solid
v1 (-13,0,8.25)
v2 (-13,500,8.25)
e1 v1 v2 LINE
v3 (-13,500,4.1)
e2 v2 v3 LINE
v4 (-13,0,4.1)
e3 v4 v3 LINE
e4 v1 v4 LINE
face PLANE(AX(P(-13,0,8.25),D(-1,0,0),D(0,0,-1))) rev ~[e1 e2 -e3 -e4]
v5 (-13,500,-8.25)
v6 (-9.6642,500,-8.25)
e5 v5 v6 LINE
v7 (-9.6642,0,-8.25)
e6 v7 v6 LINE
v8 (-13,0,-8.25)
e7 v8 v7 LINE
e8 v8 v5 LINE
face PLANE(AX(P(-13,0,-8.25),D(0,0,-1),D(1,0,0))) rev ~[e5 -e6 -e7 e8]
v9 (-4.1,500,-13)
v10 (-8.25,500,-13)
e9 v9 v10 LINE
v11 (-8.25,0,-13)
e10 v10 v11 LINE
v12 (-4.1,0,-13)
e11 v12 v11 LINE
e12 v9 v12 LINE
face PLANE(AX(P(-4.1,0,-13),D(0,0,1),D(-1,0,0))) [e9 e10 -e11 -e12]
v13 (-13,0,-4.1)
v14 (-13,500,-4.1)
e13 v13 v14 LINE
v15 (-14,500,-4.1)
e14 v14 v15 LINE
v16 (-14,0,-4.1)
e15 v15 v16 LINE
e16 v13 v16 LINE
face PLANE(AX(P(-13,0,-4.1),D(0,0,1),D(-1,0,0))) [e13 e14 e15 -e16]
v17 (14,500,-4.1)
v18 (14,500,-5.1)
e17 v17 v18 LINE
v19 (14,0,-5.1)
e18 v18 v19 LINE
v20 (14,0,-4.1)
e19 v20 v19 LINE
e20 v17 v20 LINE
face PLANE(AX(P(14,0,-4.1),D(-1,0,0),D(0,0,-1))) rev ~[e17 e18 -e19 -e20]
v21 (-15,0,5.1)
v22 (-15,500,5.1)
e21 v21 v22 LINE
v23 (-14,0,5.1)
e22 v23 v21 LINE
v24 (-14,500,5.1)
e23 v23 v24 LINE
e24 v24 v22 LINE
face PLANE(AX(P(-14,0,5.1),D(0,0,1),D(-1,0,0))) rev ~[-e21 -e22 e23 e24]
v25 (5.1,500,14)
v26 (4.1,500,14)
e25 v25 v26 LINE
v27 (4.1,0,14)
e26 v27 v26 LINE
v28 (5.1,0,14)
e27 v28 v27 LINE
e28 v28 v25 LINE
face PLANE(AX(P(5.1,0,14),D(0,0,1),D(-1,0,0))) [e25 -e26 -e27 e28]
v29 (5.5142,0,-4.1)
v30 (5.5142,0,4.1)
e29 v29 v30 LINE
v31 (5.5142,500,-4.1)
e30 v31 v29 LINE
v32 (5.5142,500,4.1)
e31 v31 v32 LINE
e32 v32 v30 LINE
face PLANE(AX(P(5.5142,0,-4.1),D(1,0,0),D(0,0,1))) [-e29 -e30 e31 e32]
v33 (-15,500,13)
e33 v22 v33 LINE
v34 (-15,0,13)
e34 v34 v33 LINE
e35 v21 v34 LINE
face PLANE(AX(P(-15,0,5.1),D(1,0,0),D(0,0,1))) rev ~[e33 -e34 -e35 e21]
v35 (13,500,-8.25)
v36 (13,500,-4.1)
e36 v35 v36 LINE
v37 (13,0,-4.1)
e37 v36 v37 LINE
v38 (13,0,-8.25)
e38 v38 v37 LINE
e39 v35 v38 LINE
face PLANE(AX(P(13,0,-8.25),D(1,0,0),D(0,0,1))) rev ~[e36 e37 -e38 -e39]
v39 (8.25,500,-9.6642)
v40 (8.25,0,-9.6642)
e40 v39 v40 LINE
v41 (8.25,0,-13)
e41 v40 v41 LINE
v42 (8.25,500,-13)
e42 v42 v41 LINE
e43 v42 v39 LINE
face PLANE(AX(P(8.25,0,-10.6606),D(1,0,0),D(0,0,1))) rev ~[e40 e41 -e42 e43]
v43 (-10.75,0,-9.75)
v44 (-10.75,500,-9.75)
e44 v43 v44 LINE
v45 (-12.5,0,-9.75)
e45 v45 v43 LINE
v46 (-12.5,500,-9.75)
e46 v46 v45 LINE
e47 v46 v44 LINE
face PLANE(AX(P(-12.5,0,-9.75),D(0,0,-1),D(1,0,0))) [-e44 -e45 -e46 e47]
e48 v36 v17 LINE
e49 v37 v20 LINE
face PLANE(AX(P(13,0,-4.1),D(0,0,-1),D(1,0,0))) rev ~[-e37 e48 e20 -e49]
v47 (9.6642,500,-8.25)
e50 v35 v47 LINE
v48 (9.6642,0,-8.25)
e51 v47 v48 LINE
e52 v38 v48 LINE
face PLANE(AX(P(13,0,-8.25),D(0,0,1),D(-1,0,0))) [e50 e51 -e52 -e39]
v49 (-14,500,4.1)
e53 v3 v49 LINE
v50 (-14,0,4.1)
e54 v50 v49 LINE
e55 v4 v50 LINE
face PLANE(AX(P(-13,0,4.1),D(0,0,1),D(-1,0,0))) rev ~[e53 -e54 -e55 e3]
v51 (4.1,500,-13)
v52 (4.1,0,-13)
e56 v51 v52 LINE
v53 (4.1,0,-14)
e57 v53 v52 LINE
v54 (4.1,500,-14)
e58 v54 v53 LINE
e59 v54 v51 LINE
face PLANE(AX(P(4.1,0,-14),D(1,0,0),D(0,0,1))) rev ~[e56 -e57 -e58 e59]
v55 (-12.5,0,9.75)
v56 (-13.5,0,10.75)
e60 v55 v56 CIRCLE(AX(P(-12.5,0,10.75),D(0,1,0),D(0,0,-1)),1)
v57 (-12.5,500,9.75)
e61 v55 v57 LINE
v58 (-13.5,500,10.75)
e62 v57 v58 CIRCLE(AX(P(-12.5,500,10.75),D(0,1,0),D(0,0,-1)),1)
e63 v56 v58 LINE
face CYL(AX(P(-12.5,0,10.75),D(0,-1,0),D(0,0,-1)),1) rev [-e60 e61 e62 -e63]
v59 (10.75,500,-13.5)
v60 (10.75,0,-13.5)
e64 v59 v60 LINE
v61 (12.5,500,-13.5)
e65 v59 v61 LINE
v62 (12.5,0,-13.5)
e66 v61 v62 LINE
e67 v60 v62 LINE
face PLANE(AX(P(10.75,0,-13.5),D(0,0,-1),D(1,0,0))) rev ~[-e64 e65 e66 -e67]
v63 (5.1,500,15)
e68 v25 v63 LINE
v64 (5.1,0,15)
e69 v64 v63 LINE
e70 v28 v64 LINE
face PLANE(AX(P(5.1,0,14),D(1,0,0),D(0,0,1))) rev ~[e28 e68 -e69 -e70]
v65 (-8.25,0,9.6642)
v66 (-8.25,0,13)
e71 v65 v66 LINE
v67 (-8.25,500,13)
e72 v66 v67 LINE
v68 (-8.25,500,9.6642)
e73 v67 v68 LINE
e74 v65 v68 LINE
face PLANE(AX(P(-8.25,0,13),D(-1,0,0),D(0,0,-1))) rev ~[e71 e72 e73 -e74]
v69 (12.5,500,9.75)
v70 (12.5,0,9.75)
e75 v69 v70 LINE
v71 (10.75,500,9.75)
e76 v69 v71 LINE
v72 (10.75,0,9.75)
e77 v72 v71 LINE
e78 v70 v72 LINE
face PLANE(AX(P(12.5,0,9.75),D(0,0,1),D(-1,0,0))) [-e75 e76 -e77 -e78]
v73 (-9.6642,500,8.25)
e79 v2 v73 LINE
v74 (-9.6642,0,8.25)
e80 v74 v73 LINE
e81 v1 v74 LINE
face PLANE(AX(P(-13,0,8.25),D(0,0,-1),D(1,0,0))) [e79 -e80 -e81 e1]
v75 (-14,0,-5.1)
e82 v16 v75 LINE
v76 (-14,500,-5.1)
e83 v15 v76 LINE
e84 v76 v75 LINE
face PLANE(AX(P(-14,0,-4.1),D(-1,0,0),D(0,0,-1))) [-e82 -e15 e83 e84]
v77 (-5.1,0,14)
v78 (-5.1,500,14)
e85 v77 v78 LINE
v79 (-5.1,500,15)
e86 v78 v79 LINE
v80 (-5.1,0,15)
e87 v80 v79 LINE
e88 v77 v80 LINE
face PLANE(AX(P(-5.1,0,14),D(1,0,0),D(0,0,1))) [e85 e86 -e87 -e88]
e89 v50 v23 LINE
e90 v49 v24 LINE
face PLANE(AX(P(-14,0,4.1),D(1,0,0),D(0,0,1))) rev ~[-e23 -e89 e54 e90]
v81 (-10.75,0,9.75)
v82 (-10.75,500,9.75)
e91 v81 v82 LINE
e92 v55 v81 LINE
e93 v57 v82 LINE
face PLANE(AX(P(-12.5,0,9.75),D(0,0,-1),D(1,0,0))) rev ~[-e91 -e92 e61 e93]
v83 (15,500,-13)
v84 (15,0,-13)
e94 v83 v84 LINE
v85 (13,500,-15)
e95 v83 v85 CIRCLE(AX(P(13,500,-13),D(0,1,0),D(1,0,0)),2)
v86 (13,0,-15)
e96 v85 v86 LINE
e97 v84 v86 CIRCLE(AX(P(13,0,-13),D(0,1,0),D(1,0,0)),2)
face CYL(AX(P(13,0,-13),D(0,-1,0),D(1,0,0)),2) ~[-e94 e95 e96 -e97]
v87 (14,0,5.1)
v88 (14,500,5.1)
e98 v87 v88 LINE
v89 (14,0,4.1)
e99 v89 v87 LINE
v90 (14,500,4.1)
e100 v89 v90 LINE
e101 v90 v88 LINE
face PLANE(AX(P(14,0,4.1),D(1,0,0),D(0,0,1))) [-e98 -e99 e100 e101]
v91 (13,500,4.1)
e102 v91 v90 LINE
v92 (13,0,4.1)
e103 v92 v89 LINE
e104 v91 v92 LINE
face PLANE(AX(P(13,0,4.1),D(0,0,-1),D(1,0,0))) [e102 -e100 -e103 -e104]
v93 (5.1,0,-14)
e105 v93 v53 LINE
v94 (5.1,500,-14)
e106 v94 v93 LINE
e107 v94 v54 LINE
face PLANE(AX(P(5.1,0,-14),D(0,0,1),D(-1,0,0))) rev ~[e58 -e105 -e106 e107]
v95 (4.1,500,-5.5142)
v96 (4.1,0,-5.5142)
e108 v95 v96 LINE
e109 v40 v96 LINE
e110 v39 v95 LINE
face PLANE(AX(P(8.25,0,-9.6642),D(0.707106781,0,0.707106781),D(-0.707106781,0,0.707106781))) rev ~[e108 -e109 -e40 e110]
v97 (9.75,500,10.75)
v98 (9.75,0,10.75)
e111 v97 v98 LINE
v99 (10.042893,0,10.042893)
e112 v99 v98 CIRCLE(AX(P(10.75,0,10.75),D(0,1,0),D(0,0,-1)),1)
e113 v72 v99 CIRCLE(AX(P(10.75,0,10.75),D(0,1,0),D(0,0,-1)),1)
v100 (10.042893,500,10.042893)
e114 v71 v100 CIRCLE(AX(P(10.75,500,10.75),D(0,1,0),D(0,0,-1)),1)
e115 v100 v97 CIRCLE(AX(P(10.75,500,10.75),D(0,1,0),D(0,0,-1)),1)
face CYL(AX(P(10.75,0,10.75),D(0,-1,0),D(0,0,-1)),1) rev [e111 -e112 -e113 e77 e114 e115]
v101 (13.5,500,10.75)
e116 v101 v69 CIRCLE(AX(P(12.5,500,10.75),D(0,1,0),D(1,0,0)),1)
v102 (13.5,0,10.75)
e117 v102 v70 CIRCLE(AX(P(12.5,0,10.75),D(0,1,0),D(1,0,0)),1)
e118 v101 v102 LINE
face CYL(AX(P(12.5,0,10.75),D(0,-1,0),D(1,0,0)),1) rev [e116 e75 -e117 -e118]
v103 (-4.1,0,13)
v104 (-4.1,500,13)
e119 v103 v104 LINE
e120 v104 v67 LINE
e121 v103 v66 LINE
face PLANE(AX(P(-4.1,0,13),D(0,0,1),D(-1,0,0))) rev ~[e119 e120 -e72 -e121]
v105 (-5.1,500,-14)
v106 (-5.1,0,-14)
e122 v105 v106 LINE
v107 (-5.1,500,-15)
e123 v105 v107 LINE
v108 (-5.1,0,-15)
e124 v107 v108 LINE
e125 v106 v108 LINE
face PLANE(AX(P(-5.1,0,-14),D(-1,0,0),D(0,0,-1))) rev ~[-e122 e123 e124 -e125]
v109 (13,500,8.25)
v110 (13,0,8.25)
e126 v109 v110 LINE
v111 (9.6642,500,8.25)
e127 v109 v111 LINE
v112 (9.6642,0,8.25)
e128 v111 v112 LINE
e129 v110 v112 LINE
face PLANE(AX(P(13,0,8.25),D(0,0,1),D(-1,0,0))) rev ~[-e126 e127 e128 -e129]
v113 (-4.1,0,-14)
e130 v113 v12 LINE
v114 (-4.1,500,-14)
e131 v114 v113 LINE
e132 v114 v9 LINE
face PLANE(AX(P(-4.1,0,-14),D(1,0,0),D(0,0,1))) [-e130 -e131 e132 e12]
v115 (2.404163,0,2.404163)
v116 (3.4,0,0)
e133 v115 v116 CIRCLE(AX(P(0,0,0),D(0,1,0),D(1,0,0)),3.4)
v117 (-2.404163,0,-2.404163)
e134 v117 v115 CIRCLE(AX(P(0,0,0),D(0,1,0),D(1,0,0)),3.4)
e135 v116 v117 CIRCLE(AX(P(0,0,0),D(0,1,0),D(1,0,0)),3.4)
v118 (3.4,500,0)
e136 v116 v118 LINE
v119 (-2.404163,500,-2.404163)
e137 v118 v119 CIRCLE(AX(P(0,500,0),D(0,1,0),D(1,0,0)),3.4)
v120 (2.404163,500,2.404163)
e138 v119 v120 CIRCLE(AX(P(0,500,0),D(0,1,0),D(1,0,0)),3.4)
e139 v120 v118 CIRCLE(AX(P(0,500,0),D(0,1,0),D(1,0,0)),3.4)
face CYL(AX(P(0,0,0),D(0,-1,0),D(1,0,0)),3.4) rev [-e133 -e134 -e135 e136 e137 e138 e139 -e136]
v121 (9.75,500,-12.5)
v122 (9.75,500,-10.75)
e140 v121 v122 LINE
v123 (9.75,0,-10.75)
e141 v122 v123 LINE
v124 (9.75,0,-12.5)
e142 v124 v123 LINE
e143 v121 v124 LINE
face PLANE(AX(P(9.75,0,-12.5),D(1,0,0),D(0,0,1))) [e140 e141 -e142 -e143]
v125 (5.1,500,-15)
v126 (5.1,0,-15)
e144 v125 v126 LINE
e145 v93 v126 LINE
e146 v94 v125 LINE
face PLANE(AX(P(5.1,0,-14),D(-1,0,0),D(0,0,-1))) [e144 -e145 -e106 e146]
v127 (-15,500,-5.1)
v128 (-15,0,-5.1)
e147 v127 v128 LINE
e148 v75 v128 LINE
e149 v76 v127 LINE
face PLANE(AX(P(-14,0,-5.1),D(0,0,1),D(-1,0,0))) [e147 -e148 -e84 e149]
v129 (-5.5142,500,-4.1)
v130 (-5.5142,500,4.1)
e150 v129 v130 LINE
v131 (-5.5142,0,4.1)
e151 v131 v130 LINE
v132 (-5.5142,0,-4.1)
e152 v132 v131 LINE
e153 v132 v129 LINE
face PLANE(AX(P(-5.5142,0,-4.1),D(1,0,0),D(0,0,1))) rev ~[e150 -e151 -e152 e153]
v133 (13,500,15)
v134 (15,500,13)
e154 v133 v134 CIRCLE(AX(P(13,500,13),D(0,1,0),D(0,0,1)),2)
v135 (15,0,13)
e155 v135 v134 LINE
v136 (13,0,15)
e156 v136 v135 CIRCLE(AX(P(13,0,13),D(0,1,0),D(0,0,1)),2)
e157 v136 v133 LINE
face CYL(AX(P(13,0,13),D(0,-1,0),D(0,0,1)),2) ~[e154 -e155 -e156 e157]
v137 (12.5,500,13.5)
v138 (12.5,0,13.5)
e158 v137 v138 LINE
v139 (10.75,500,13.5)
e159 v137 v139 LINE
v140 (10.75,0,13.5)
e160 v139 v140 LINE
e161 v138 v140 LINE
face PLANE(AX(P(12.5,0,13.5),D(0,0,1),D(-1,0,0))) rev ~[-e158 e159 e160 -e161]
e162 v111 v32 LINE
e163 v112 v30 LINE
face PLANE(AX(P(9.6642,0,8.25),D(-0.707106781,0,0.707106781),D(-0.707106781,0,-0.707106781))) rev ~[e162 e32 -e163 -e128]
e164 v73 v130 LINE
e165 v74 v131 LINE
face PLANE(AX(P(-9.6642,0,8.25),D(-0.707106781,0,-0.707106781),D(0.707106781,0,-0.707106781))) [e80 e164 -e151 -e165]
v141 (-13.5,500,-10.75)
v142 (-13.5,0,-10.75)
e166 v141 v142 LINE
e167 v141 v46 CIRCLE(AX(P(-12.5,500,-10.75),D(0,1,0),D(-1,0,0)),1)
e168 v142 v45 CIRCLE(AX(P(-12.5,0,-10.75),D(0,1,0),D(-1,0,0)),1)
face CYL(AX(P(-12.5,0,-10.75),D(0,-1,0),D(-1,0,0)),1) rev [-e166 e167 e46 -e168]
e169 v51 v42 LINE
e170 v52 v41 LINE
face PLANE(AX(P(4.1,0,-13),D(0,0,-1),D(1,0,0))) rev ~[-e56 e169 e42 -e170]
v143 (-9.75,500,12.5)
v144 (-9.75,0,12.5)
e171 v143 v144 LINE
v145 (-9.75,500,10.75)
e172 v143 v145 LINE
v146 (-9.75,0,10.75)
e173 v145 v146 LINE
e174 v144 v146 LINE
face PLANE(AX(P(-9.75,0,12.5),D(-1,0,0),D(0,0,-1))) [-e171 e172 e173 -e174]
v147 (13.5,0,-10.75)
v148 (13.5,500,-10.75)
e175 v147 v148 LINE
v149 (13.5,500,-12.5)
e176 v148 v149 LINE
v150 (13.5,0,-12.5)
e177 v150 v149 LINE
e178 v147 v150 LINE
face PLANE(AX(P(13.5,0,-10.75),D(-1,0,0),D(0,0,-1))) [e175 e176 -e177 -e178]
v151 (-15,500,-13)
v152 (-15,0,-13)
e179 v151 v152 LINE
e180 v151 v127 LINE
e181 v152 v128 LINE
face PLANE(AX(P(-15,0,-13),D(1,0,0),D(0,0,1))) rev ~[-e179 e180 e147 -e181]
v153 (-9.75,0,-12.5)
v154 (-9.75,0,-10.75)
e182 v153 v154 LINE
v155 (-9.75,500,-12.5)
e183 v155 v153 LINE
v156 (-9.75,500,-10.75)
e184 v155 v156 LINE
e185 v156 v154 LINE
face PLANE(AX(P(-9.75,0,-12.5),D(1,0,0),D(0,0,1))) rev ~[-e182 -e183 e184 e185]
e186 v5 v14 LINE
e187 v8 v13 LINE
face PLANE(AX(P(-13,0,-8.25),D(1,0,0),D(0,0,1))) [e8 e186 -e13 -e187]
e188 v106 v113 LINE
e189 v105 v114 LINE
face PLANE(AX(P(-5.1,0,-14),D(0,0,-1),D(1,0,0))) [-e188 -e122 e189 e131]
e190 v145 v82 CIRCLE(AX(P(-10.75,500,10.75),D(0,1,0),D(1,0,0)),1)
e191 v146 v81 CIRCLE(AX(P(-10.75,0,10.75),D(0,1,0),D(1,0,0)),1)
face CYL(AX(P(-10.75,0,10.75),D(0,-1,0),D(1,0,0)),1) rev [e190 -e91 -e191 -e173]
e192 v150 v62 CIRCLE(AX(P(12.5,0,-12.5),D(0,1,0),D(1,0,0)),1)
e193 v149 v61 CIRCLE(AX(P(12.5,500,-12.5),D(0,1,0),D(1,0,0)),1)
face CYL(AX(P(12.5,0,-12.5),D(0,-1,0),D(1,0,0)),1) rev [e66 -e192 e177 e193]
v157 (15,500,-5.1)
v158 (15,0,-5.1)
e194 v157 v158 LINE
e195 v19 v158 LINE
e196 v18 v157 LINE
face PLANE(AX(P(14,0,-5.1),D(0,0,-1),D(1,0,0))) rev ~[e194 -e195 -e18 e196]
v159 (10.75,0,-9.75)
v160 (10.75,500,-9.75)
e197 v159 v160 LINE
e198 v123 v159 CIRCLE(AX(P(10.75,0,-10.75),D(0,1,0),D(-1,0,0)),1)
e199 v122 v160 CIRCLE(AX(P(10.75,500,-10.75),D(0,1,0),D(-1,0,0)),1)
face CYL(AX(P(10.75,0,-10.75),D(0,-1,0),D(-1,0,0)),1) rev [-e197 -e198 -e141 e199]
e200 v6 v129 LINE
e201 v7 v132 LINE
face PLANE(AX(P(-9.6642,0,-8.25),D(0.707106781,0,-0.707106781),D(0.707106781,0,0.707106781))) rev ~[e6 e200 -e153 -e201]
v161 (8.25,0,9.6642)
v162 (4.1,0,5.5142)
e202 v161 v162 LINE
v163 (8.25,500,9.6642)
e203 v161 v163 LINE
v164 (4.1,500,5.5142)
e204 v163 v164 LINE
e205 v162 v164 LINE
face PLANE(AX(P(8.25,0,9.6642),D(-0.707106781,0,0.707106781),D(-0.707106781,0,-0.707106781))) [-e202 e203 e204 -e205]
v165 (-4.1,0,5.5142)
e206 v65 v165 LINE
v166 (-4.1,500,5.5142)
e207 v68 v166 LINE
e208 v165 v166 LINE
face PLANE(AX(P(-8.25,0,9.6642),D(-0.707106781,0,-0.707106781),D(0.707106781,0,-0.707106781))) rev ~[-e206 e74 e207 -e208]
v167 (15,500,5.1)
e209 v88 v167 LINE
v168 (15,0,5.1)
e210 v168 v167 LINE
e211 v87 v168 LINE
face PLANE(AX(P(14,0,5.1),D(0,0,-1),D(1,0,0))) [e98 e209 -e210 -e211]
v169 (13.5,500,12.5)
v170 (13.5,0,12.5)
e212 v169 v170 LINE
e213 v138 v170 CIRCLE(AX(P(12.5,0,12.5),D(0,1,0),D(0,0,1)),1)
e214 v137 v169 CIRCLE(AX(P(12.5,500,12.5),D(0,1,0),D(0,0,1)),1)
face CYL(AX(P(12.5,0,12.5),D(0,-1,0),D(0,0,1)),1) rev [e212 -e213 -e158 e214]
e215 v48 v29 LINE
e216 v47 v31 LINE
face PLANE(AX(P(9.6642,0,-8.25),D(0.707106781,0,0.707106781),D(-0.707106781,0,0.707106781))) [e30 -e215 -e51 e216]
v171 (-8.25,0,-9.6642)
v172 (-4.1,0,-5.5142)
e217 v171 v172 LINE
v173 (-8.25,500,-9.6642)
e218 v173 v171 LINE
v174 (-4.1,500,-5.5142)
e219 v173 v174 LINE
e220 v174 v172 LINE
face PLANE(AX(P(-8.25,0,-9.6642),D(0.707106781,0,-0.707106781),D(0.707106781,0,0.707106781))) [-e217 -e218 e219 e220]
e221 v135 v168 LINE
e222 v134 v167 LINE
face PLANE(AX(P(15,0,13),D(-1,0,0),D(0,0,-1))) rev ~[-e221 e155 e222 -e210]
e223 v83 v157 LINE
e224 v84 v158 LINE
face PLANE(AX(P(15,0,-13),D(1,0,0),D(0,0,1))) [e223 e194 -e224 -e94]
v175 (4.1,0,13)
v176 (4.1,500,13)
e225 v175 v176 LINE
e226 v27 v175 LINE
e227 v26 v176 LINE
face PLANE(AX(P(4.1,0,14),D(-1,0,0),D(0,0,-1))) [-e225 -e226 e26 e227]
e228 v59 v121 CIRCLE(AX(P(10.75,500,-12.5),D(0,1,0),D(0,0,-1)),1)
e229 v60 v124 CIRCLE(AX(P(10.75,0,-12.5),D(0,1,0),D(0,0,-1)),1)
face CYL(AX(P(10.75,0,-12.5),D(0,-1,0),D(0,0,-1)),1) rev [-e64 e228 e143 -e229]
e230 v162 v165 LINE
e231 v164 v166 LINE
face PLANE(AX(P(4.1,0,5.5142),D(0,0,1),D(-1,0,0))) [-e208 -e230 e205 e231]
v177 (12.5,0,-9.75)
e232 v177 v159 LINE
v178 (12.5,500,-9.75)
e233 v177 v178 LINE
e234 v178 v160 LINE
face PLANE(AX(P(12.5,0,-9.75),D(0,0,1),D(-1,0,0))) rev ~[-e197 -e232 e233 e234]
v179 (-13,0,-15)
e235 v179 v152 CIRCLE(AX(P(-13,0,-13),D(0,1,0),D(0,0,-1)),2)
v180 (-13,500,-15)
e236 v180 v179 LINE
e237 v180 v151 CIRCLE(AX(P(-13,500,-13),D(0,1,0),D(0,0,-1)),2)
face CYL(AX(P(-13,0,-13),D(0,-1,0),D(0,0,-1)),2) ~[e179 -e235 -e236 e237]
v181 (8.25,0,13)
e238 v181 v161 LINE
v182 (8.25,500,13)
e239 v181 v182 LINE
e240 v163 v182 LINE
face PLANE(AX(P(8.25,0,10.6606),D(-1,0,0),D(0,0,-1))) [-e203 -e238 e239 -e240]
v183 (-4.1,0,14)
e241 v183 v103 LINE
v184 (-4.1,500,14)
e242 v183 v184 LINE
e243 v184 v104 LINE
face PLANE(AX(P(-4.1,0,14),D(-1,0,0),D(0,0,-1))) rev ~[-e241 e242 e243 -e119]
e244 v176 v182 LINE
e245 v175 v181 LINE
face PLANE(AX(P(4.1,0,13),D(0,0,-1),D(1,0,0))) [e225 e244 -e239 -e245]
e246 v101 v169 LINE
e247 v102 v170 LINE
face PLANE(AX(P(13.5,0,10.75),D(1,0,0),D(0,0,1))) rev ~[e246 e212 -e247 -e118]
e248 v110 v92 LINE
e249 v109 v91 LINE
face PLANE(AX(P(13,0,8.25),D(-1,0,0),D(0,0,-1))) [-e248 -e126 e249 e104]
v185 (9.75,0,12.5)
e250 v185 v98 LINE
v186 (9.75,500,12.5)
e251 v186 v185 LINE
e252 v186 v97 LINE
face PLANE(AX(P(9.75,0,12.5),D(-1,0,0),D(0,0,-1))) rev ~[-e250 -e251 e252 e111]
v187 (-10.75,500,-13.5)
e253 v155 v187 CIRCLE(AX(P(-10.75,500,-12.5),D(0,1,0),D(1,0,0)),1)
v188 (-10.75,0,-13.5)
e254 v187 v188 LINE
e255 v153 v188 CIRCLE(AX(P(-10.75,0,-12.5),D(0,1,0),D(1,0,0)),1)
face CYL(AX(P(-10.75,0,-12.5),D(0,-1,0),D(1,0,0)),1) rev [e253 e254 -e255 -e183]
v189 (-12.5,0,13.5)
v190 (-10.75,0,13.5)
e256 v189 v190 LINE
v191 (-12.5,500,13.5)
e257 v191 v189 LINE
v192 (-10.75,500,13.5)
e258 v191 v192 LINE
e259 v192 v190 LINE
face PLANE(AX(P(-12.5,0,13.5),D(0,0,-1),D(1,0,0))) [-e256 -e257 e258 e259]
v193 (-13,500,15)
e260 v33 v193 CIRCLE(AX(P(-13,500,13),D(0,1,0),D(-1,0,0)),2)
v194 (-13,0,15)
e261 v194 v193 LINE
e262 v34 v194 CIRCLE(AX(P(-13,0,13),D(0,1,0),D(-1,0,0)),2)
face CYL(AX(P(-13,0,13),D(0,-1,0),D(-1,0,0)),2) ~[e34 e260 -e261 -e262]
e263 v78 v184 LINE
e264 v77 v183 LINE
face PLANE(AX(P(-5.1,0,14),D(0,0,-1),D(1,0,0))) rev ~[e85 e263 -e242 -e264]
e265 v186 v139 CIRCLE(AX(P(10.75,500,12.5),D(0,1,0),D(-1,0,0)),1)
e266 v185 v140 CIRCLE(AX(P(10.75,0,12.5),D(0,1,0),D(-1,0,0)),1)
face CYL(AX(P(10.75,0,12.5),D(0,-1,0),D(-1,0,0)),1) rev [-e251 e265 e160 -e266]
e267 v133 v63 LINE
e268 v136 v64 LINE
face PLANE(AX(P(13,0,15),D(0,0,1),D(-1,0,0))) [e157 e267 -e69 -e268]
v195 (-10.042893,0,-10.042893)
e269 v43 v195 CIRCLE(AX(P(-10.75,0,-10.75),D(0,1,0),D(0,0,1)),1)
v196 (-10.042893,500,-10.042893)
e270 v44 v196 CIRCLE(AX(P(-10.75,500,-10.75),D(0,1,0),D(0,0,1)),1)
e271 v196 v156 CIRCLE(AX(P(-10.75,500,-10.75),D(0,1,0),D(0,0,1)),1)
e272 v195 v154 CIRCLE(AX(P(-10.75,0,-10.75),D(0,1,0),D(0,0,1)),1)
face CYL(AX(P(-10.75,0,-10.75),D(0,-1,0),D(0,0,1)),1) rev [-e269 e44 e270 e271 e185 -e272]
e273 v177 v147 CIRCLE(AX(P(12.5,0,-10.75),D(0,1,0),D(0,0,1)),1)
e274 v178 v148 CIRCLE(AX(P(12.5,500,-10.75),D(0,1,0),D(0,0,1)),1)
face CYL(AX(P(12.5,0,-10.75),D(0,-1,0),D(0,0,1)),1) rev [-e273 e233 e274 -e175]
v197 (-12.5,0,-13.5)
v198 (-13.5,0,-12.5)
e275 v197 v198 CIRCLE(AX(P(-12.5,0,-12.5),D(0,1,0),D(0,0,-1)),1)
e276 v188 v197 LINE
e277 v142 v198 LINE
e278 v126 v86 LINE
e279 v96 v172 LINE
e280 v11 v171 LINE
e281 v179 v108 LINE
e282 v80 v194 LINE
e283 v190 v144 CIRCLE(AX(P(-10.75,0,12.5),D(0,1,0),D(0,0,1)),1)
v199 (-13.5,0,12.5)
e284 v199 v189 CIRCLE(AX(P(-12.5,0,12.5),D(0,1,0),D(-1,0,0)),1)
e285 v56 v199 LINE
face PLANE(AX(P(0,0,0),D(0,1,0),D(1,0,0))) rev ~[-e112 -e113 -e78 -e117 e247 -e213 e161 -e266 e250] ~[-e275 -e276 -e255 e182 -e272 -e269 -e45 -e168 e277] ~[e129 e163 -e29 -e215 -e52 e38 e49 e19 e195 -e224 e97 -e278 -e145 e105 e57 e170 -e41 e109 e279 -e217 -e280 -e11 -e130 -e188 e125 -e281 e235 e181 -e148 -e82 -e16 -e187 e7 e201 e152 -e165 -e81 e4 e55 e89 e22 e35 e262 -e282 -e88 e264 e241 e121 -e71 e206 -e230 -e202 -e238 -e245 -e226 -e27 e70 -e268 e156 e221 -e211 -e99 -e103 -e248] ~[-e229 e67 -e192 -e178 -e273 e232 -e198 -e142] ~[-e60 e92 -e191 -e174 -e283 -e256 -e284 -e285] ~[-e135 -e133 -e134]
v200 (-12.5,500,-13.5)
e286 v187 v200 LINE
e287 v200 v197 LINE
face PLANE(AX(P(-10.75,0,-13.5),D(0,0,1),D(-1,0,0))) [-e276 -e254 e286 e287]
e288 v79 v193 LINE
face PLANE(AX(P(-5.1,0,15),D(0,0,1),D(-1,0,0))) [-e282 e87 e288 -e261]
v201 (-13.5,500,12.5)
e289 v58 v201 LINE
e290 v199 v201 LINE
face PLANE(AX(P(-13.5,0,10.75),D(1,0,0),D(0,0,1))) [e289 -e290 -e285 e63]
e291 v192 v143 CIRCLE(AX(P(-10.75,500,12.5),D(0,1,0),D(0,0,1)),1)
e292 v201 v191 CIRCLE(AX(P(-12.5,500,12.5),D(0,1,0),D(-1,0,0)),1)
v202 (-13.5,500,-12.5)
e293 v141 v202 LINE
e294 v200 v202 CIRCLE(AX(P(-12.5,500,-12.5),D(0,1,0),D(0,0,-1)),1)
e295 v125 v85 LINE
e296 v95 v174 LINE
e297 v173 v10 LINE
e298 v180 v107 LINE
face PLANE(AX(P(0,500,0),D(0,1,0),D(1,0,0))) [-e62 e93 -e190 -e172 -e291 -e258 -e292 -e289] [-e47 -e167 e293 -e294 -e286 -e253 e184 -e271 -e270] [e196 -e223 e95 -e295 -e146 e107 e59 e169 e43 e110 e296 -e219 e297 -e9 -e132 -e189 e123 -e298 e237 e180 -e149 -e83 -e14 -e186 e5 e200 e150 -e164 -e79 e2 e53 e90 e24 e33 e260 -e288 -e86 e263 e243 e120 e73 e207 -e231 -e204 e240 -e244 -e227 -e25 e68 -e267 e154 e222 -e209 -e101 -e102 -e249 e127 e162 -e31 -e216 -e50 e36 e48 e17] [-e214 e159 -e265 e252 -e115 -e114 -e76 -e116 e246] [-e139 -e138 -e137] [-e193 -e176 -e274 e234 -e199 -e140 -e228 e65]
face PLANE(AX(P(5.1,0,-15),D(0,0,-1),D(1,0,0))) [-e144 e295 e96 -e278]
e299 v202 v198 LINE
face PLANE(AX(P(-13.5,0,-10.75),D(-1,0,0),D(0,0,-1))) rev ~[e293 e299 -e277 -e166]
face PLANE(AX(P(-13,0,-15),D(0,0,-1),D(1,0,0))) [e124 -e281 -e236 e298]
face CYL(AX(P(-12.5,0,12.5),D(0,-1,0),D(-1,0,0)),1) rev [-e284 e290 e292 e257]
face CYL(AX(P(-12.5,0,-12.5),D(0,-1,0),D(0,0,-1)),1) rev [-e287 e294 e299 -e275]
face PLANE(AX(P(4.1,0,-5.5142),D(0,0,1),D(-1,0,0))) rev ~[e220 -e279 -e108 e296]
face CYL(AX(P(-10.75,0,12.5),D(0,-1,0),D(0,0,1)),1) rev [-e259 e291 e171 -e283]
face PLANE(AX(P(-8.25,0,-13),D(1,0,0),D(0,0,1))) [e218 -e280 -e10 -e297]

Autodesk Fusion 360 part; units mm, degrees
sketch "Sketch1" plane through (0, 0, 0) normal (0, 1, 0) x (1, 0, 0)
  line L0 (-13, 4.1) -> (-14, 4.1)
  line L1 (-12.5, 9.75) -> (-10.75, 9.75)
  line L2 (-13, 15) -> (-5.1, 15)
  line L3 (-10.75, 9.75) -> (-12.5, 9.75)
  line L4 (-8.25, 13) -> (-8.25, 9.6642)
  line L5 (-5.1, 15) -> (-13, 15)
  line L6 (-4.1, 13) -> (-8.25, 13)
  line L7 (-8.25, 9.6642) -> (-4.1, 5.5142)
  line L8 (-5.1, 14) -> (-4.1, 14)
  line L9 (-13, 8.25) -> (-9.6642, 8.25)
  line L10 (-8.25, 10.6606) -> (-8.25, 13)
  arc A0 (-13, 15) -> (-15, 13) centre (-13, 13) ccw
  line L11 (-9.75, 12.5) -> (-9.75, 10.75)
  arc A1 (-13.5, 10.75) -> (-12.5, 9.75) centre (-12.5, 10.75) ccw
  line L12 (-10.75, 13.5) -> (-12.5, 13.5)
  line L13 (-15, 13) -> (-15, 5.1)
  line L14 (-12.5, 13.5) -> (-10.75, 13.5)
  line L15 (-9.6642, 8.25) -> (-5.5142, 4.1)
  line L16 (-13, 8.25) -> (-13, 4.1)
  line L17 (-5.1, 14) -> (-5.1, 15)
  line L18 (13, -4.1) -> (14, -4.1)
  arc A2 (13.5, -10.75) -> (12.5, -9.75) centre (12.5, -10.75) ccw
  line L19 (8.25, -10.6606) -> (8.25, -13)
  line L20 (12.5, -9.75) -> (10.75, -9.75)
  arc A3 (13, -15) -> (15, -13) centre (13, -13) ccw
  circle A4 centre (0, 0) radius 3.4
  line L21 (14, -4.1) -> (14, -5.1)
  line L22 (12.5, -12.5) -> (-13, 13)
  line L23 (4.1, -13) -> (8.25, -13)
  line L24 (13, -4.1) -> (14, -4.1)
  line L25 (9.5009, 9.5009) -> (1.6153, 1.6153) construction
  line L26 (5.1, -14) -> (5.1, -15)
  line L27 (12.5, -13.5) -> (10.75, -13.5)
  line L28 (14, -5.1) -> (15, -5.1)
  arc A5 (9.75, -12.5) -> (10.75, -13.5) centre (10.75, -12.5) ccw
  line L29 (10.75, -9.75) -> (12.5, -9.75)
  line L30 (4.1, 5.5142) -> (-4.1, 5.5142)
  line L31 (13, -15) -> (5.1, -15)
  line L32 (15, -13) -> (15, -5.1)
  line L33 (8.25, -13) -> (8.25, -9.6642)
  line L34 (4.1, -5.5142) -> (-4.1, -5.5142)
  line L35 (13.5, -10.75) -> (13.5, -12.5)
  line L36 (4.1, -14) -> (4.1, -13)
  line L37 (5.1, -14) -> (4.1, -14)
  line L38 (5.1, -15) -> (13, -15)
  line L39 (5.5142, 4.1) -> (5.5142, -4.1)
  line L40 (9.6642, -8.25) -> (5.5142, -4.1)
  line L41 (15, -5.1) -> (15, -13)
  line L42 (9.75, -12.5) -> (9.75, -10.75)
  arc A6 (12.5, -13.5) -> (13.5, -12.5) centre (12.5, -12.5) ccw
  arc A7 (12.5, -13.5) -> (13.5, -12.5) centre (12.5, -12.5) ccw
  line L43 (13, -8.25) -> (13, -4.1)
  line L44 (8.25, 10.6606) -> (8.25, 13)
  line L45 (8.25, 13) -> (8.25, 9.6642)
  line L46 (-5.5142, 4.1) -> (-5.5142, -4.1)
  line L47 (-9.5009, -9.5009) -> (-1.6152, -1.6153) construction
  line L48 (5.1, 15) -> (13, 15)
  line L49 (13, 15) -> (5.1, 15)
  arc A8 (13.5, 12.5) -> (12.5, 13.5) centre (12.5, 12.5) ccw
  line L50 (-15, -5.1) -> (-15, -13)
  line L51 (5.1, 14) -> (4.1, 14)
  arc A9 (-10.75, 9.75) -> (-9.75, 10.75) centre (-10.75, 10.75) ccw
  line L52 (-13, 4.1) -> (-14, 4.1)
  line L53 (-9.5009, 9.5009) -> (-1.6152, 1.6153) construction
  line L54 (-14, 4.1) -> (-14, 5.1)
  line L55 (-4.1, 14) -> (-4.1, 13)
  arc A10 (-12.5, 13.5) -> (-13.5, 12.5) centre (-12.5, 12.5) ccw
  line L56 (-15, 5.1) -> (-15, 13)
  arc A11 (-9.75, 12.5) -> (-10.75, 13.5) centre (-10.75, 12.5) ccw
  line L57 (-14, 5.1) -> (-15, 5.1)
  arc A12 (-12.5, 13.5) -> (-13.5, 12.5) centre (-12.5, 12.5) ccw
  line L58 (-13.5, 10.75) -> (-13.5, 12.5)
  line L59 (-8.25, -13) -> (-8.25, -9.6642)
  line L60 (-9.6642, -8.25) -> (-5.5142, -4.1)
  line L61 (-4.1, -13) -> (-8.25, -13)
  arc A13 (-13.5, -12.5) -> (-12.5, -13.5) centre (-12.5, -12.5) ccw
  line L62 (-15, -13) -> (-15, -5.1)
  line L63 (-14, -4.1) -> (-14, -5.1)
  line L64 (-13, -8.25) -> (-9.6642, -8.25)
  line L65 (-13, -8.25) -> (-13, -4.1)
  line L66 (-5.1, -14) -> (-4.1, -14)
  line L67 (-12.5, -9.75) -> (-10.75, -9.75)
  line L68 (-8.25, -10.6606) -> (-8.25, -13)
  arc A14 (-9.75, -10.75) -> (-10.75, -9.75) centre (-10.75, -10.75) ccw
  arc A15 (-13.5, -12.5) -> (-12.5, -13.5) centre (-12.5, -12.5) ccw
  arc A16 (-15, -13) -> (-13, -15) centre (-13, -13) ccw
  line L69 (-5.1, -15) -> (-13, -15)
  line L70 (9.6642, 8.25) -> (5.5142, 4.1)
  line L71 (13.5, 10.75) -> (13.5, 12.5)
  line L72 (14, 5.1) -> (15, 5.1)
  arc A17 (13.5, 12.5) -> (12.5, 13.5) centre (12.5, 12.5) ccw
  line L73 (13, 4.1) -> (14, 4.1)
  line L74 (4.1, 14) -> (4.1, 13)
  line L75 (12.5, 9.75) -> (10.75, 9.75)
  line L76 (10.75, 13.5) -> (12.5, 13.5)
  line L77 (13, 4.1) -> (14, 4.1)
  arc A18 (9.75, 10.75) -> (10.75, 9.75) centre (10.75, 10.75) ccw
  line L78 (5.1, 14) -> (5.1, 15)
  line L79 (15, 13) -> (15, 5.1)
  arc A19 (15, 13) -> (13, 15) centre (13, 13) ccw
  arc A20 (10.75, -9.75) -> (9.75, -10.75) centre (10.75, -10.75) ccw
  line L80 (8.25, -9.6642) -> (4.1, -5.5142)
  line L81 (14, 4.1) -> (14, 5.1)
  line L82 (13, 8.25) -> (9.6642, 8.25)
  line L83 (13, -8.25) -> (9.6642, -8.25)
  line L84 (9.5009, -9.5009) -> (1.6153, -1.6153) construction
  line L85 (10.75, 9.75) -> (12.5, 9.75)
  line L86 (8.25, 9.6642) -> (4.1, 5.5142)
  line L87 (15, 5.1) -> (15, 13)
  line L88 (13, 8.25) -> (13, 4.1)
  line L89 (12.5, 13.5) -> (10.75, 13.5)
  arc A21 (10.75, 13.5) -> (9.75, 12.5) centre (10.75, 12.5) ccw
  line L90 (10.75, -13.5) -> (12.5, -13.5)
  line L91 (4.1, 13) -> (8.25, 13)
  line L92 (9.75, 12.5) -> (9.75, 10.75)
  arc A22 (12.5, 9.75) -> (13.5, 10.75) centre (12.5, 10.75) ccw
  line L93 (-14, -5.1) -> (-15, -5.1)
  line L94 (-13, -15) -> (-5.1, -15)
  line L95 (-4.1, -14) -> (-4.1, -13)
  arc A23 (-12.5, -9.75) -> (-13.5, -10.75) centre (-12.5, -10.75) ccw
  line L96 (-10.75, -9.75) -> (-12.5, -9.75)
  line L97 (-12.5, -13.5) -> (-10.75, -13.5)
  line L98 (-8.25, -9.6642) -> (-4.1, -5.5142)
  line L99 (-13.5, -10.75) -> (-13.5, -12.5)
  arc A24 (-10.75, -13.5) -> (-9.75, -12.5) centre (-10.75, -12.5) ccw
  line L100 (-5.1, -14) -> (-5.1, -15)
  line L101 (-13, -4.1) -> (-14, -4.1)
  line L102 (-10.75, -13.5) -> (-12.5, -13.5)
  line L103 (-13, -4.1) -> (-14, -4.1)
  line L104 (-9.75, -12.5) -> (-9.75, -10.75)
  point P0 (-15, -15)
  point P1 (-14, -4.1)
  point P2 (-15, 0)
  point P3 (-5.1, -14)
  point P4 (-5.1, 14)
  point P5 (-12.5, -12.5)
  point P6 (-14, -5.1)
  point P7 (0, 0)
  point P8 (-15, -5.1)
  point P9 (-13, -8.25)
  point P10 (0, 0)
  point P11 (0, 15)
  point P12 (15, 15)
  point P13 (12.5, 12.5)
  point P14 (5.1, 15)
  point P15 (15, 0)
  point P16 (0, 0)
  point P17 (5.1, 14)
  point P18 (14, 4.1)
  point P19 (13, 8.25)
  point P20 (-12.5, 12.5)
  point P21 (8.25, 13)
  point P22 (-8.25, 13)
  point P23 (14, 5.1)
  point P24 (4.1, 14)
  point P25 (15, 5.1)
  point P26 (-15, 0)
  point P27 (-4.1, 13)
  point P28 (-5.1, 15)
  point P29 (4.1, 13)
  point P30 (-5.1, -15)
  point P31 (0, -15)
  point P32 (0, 0)
  point P33 (0, 15)
  point P34 (-4.1, 14)
  point P35 (-13, 8.25)
  point P36 (0, 0)
  point P37 (-4.1, -14)
  point P38 (0, 15)
  point P39 (-4.1, -13)
  point P40 (-14, 4.1)
  point P41 (-15, 5.1)
  point P42 (-14, 5.1)
  point P43 (0, 0)
  point P44 (-8.25, -13)
  point P45 (-15, 15)
  point P46 (5.1, -15)
  point P47 (15, -15)
  point P48 (4.1, -14)
  point P49 (15, -5.1)
  point P50 (13, -8.25)
  point P51 (4.1, -13)
  point P52 (14, -4.1)
  point P53 (5.1, -14)
  point P54 (8.25, -13)
  point P55 (14, -5.1)
  dimension "d1" = 2
  dimension "d2" = 1
  dimension "d3" = 1.5
  dimension "d4" = 1
  dimension "d5" = 1
  dimension "d6" = 1.5
  dimension "d7" = 1.5
  dimension "d8" = 1.5
  dimension "d9" = 8.2
  dimension "d10" = 8.2
  dimension "d11" = 6.8
extrude "Extrude1" add sketch "Sketch1" along normal blind 150

Autodesk Fusion 360 part; units mm, degrees
sketch "Sketch1" plane through (0, 0, 0) normal (0, 1, 0) x (1, 0, 0)
  line L0 (-13, 4.1) -> (-14, 4.1)
  line L1 (-12.5, 9.75) -> (-10.75, 9.75)
  line L2 (-13, 15) -> (-5.1, 15)
  line L3 (-10.75, 9.75) -> (-12.5, 9.75)
  line L4 (-8.25, 13) -> (-8.25, 9.6642)
  line L5 (-5.1, 15) -> (-13, 15)
  line L6 (-4.1, 13) -> (-8.25, 13)
  line L7 (-8.25, 9.6642) -> (-4.1, 5.5142)
  line L8 (-5.1, 14) -> (-4.1, 14)
  line L9 (-13, 8.25) -> (-9.6642, 8.25)
  line L10 (-8.25, 10.6606) -> (-8.25, 13)
  arc A0 (-13, 15) -> (-15, 13) centre (-13, 13) ccw
  line L11 (-9.75, 12.5) -> (-9.75, 10.75)
  arc A1 (-13.5, 10.75) -> (-12.5, 9.75) centre (-12.5, 10.75) ccw
  line L12 (-10.75, 13.5) -> (-12.5, 13.5)
  line L13 (-15, 13) -> (-15, 5.1)
  line L14 (-12.5, 13.5) -> (-10.75, 13.5)
  line L15 (-9.6642, 8.25) -> (-5.5142, 4.1)
  line L16 (-13, 8.25) -> (-13, 4.1)
  line L17 (-5.1, 14) -> (-5.1, 15)
  line L18 (13, -4.1) -> (14, -4.1)
  arc A2 (13.5, -10.75) -> (12.5, -9.75) centre (12.5, -10.75) ccw
  line L19 (8.25, -10.6606) -> (8.25, -13)
  line L20 (12.5, -9.75) -> (10.75, -9.75)
  arc A3 (13, -15) -> (15, -13) centre (13, -13) ccw
  circle A4 centre (0, 0) radius 3.4
  line L21 (14, -4.1) -> (14, -5.1)
  line L22 (12.5, -12.5) -> (-13, 13)
  line L23 (4.1, -13) -> (8.25, -13)
  line L24 (13, -4.1) -> (14, -4.1)
  line L25 (9.5009, 9.5009) -> (1.6153, 1.6153) construction
  line L26 (5.1, -14) -> (5.1, -15)
  line L27 (12.5, -13.5) -> (10.75, -13.5)
  line L28 (14, -5.1) -> (15, -5.1)
  arc A5 (9.75, -12.5) -> (10.75, -13.5) centre (10.75, -12.5) ccw
  line L29 (10.75, -9.75) -> (12.5, -9.75)
  line L30 (4.1, 5.5142) -> (-4.1, 5.5142)
  line L31 (13, -15) -> (5.1, -15)
  line L32 (15, -13) -> (15, -5.1)
  line L33 (8.25, -13) -> (8.25, -9.6642)
  line L34 (4.1, -5.5142) -> (-4.1, -5.5142)
  line L35 (13.5, -10.75) -> (13.5, -12.5)
  line L36 (4.1, -14) -> (4.1, -13)
  line L37 (5.1, -14) -> (4.1, -14)
  line L38 (5.1, -15) -> (13, -15)
  line L39 (5.5142, 4.1) -> (5.5142, -4.1)
  line L40 (9.6642, -8.25) -> (5.5142, -4.1)
  line L41 (15, -5.1) -> (15, -13)
  line L42 (9.75, -12.5) -> (9.75, -10.75)
  arc A6 (12.5, -13.5) -> (13.5, -12.5) centre (12.5, -12.5) ccw
  arc A7 (12.5, -13.5) -> (13.5, -12.5) centre (12.5, -12.5) ccw
  line L43 (13, -8.25) -> (13, -4.1)
  line L44 (8.25, 10.6606) -> (8.25, 13)
  line L45 (8.25, 13) -> (8.25, 9.6642)
  line L46 (-5.5142, 4.1) -> (-5.5142, -4.1)
  line L47 (-9.5009, -9.5009) -> (-1.6152, -1.6153) construction
  line L48 (5.1, 15) -> (13, 15)
  line L49 (13, 15) -> (5.1, 15)
  arc A8 (13.5, 12.5) -> (12.5, 13.5) centre (12.5, 12.5) ccw
  line L50 (-15, -5.1) -> (-15, -13)
  line L51 (5.1, 14) -> (4.1, 14)
  arc A9 (-10.75, 9.75) -> (-9.75, 10.75) centre (-10.75, 10.75) ccw
  line L52 (-13, 4.1) -> (-14, 4.1)
  line L53 (-9.5009, 9.5009) -> (-1.6152, 1.6153) construction
  line L54 (-14, 4.1) -> (-14, 5.1)
  line L55 (-4.1, 14) -> (-4.1, 13)
  arc A10 (-12.5, 13.5) -> (-13.5, 12.5) centre (-12.5, 12.5) ccw
  line L56 (-15, 5.1) -> (-15, 13)
  arc A11 (-9.75, 12.5) -> (-10.75, 13.5) centre (-10.75, 12.5) ccw
  line L57 (-14, 5.1) -> (-15, 5.1)
  arc A12 (-12.5, 13.5) -> (-13.5, 12.5) centre (-12.5, 12.5) ccw
  line L58 (-13.5, 10.75) -> (-13.5, 12.5)
  line L59 (-8.25, -13) -> (-8.25, -9.6642)
  line L60 (-9.6642, -8.25) -> (-5.5142, -4.1)
  line L61 (-4.1, -13) -> (-8.25, -13)
  arc A13 (-13.5, -12.5) -> (-12.5, -13.5) centre (-12.5, -12.5) ccw
  line L62 (-15, -13) -> (-15, -5.1)
  line L63 (-14, -4.1) -> (-14, -5.1)
  line L64 (-13, -8.25) -> (-9.6642, -8.25)
  line L65 (-13, -8.25) -> (-13, -4.1)
  line L66 (-5.1, -14) -> (-4.1, -14)
  line L67 (-12.5, -9.75) -> (-10.75, -9.75)
  line L68 (-8.25, -10.6606) -> (-8.25, -13)
  arc A14 (-9.75, -10.75) -> (-10.75, -9.75) centre (-10.75, -10.75) ccw
  arc A15 (-13.5, -12.5) -> (-12.5, -13.5) centre (-12.5, -12.5) ccw
  arc A16 (-15, -13) -> (-13, -15) centre (-13, -13) ccw
  line L69 (-5.1, -15) -> (-13, -15)
  line L70 (9.6642, 8.25) -> (5.5142, 4.1)
  line L71 (13.5, 10.75) -> (13.5, 12.5)
  line L72 (14, 5.1) -> (15, 5.1)
  arc A17 (13.5, 12.5) -> (12.5, 13.5) centre (12.5, 12.5) ccw
  line L73 (13, 4.1) -> (14, 4.1)
  line L74 (4.1, 14) -> (4.1, 13)
  line L75 (12.5, 9.75) -> (10.75, 9.75)
  line L76 (10.75, 13.5) -> (12.5, 13.5)
  line L77 (13, 4.1) -> (14, 4.1)
  arc A18 (9.75, 10.75) -> (10.75, 9.75) centre (10.75, 10.75) ccw
  line L78 (5.1, 14) -> (5.1, 15)
  line L79 (15, 13) -> (15, 5.1)
  arc A19 (15, 13) -> (13, 15) centre (13, 13) ccw
  arc A20 (10.75, -9.75) -> (9.75, -10.75) centre (10.75, -10.75) ccw
  line L80 (8.25, -9.6642) -> (4.1, -5.5142)
  line L81 (14, 4.1) -> (14, 5.1)
  line L82 (13, 8.25) -> (9.6642, 8.25)
  line L83 (13, -8.25) -> (9.6642, -8.25)
  line L84 (9.5009, -9.5009) -> (1.6153, -1.6153) construction
  line L85 (10.75, 9.75) -> (12.5, 9.75)
  line L86 (8.25, 9.6642) -> (4.1, 5.5142)
  line L87 (15, 5.1) -> (15, 13)
  line L88 (13, 8.25) -> (13, 4.1)
  line L89 (12.5, 13.5) -> (10.75, 13.5)
  arc A21 (10.75, 13.5) -> (9.75, 12.5) centre (10.75, 12.5) ccw
  line L90 (10.75, -13.5) -> (12.5, -13.5)
  line L91 (4.1, 13) -> (8.25, 13)
  line L92 (9.75, 12.5) -> (9.75, 10.75)
  arc A22 (12.5, 9.75) -> (13.5, 10.75) centre (12.5, 10.75) ccw
  line L93 (-14, -5.1) -> (-15, -5.1)
  line L94 (-13, -15) -> (-5.1, -15)
  line L95 (-4.1, -14) -> (-4.1, -13)
  arc A23 (-12.5, -9.75) -> (-13.5, -10.75) centre (-12.5, -10.75) ccw
  line L96 (-10.75, -9.75) -> (-12.5, -9.75)
  line L97 (-12.5, -13.5) -> (-10.75, -13.5)
  line L98 (-8.25, -9.6642) -> (-4.1, -5.5142)
  line L99 (-13.5, -10.75) -> (-13.5, -12.5)
  arc A24 (-10.75, -13.5) -> (-9.75, -12.5) centre (-10.75, -12.5) ccw
  line L100 (-5.1, -14) -> (-5.1, -15)
  line L101 (-13, -4.1) -> (-14, -4.1)
  line L102 (-10.75, -13.5) -> (-12.5, -13.5)
  line L103 (-13, -4.1) -> (-14, -4.1)
  line L104 (-9.75, -12.5) -> (-9.75, -10.75)
  point P0 (-15, -15)
  point P1 (-14, -4.1)
  point P2 (-15, 0)
  point P3 (-5.1, -14)
  point P4 (-5.1, 14)
  point P5 (-12.5, -12.5)
  point P6 (-14, -5.1)
  point P7 (0, 0)
  point P8 (-15, -5.1)
  point P9 (-13, -8.25)
  point P10 (0, 0)
  point P11 (0, 15)
  point P12 (15, 15)
  point P13 (12.5, 12.5)
  point P14 (5.1, 15)
  point P15 (15, 0)
  point P16 (0, 0)
  point P17 (5.1, 14)
  point P18 (14, 4.1)
  point P19 (13, 8.25)
  point P20 (-12.5, 12.5)
  point P21 (8.25, 13)
  point P22 (-8.25, 13)
  point P23 (14, 5.1)
  point P24 (4.1, 14)
  point P25 (15, 5.1)
  point P26 (-15, 0)
  point P27 (-4.1, 13)
  point P28 (-5.1, 15)
  point P29 (4.1, 13)
  point P30 (-5.1, -15)
  point P31 (0, -15)
  point P32 (0, 0)
  point P33 (0, 15)
  point P34 (-4.1, 14)
  point P35 (-13, 8.25)
  point P36 (0, 0)
  point P37 (-4.1, -14)
  point P38 (0, 15)
  point P39 (-4.1, -13)
  point P40 (-14, 4.1)
  point P41 (-15, 5.1)
  point P42 (-14, 5.1)
  point P43 (0, 0)
  point P44 (-8.25, -13)
  point P45 (-15, 15)
  point P46 (5.1, -15)
  point P47 (15, -15)
  point P48 (4.1, -14)
  point P49 (15, -5.1)
  point P50 (13, -8.25)
  point P51 (4.1, -13)
  point P52 (14, -4.1)
  point P53 (5.1, -14)
  point P54 (8.25, -13)
  point P55 (14, -5.1)
  dimension "d1" = 2
  dimension "d2" = 1
  dimension "d3" = 1.5
  dimension "d4" = 1
  dimension "d5" = 1
  dimension "d6" = 1.5
  dimension "d7" = 1.5
  dimension "d8" = 1.5
  dimension "d9" = 8.2
  dimension "d10" = 8.2
  dimension "d11" = 6.8
extrude "Extrude1" add sketch "Sketch1" along normal blind 300

Autodesk Fusion 360 part; units mm, degrees
sketch "Sketch1" plane through (0, 0, 0) normal (0, 1, 0) x (1, 0, 0)
  line L0 (-13, 4.1) -> (-14, 4.1)
  line L1 (-12.5, 9.75) -> (-10.75, 9.75)
  line L2 (-13, 15) -> (-5.1, 15)
  line L3 (-10.75, 9.75) -> (-12.5, 9.75)
  line L4 (-8.25, 13) -> (-8.25, 9.6642)
  line L5 (-5.1, 15) -> (-13, 15)
  line L6 (-4.1, 13) -> (-8.25, 13)
  line L7 (-8.25, 9.6642) -> (-4.1, 5.5142)
  line L8 (-5.1, 14) -> (-4.1, 14)
  line L9 (-13, 8.25) -> (-9.6642, 8.25)
  line L10 (-8.25, 10.6606) -> (-8.25, 13)
  arc A0 (-13, 15) -> (-15, 13) centre (-13, 13) ccw
  line L11 (-9.75, 12.5) -> (-9.75, 10.75)
  arc A1 (-13.5, 10.75) -> (-12.5, 9.75) centre (-12.5, 10.75) ccw
  line L12 (-10.75, 13.5) -> (-12.5, 13.5)
  line L13 (-15, 13) -> (-15, 5.1)
  line L14 (-12.5, 13.5) -> (-10.75, 13.5)
  line L15 (-9.6642, 8.25) -> (-5.5142, 4.1)
  line L16 (-13, 8.25) -> (-13, 4.1)
  line L17 (-5.1, 14) -> (-5.1, 15)
  line L18 (13, -4.1) -> (14, -4.1)
  arc A2 (13.5, -10.75) -> (12.5, -9.75) centre (12.5, -10.75) ccw
  line L19 (8.25, -10.6606) -> (8.25, -13)
  line L20 (12.5, -9.75) -> (10.75, -9.75)
  arc A3 (13, -15) -> (15, -13) centre (13, -13) ccw
  circle A4 centre (0, 0) radius 3.4
  line L21 (14, -4.1) -> (14, -5.1)
  line L22 (12.5, -12.5) -> (-13, 13)
  line L23 (4.1, -13) -> (8.25, -13)
  line L24 (13, -4.1) -> (14, -4.1)
  line L25 (9.5009, 9.5009) -> (1.6153, 1.6153) construction
  line L26 (5.1, -14) -> (5.1, -15)
  line L27 (12.5, -13.5) -> (10.75, -13.5)
  line L28 (14, -5.1) -> (15, -5.1)
  arc A5 (9.75, -12.5) -> (10.75, -13.5) centre (10.75, -12.5) ccw
  line L29 (10.75, -9.75) -> (12.5, -9.75)
  line L30 (4.1, 5.5142) -> (-4.1, 5.5142)
  line L31 (13, -15) -> (5.1, -15)
  line L32 (15, -13) -> (15, -5.1)
  line L33 (8.25, -13) -> (8.25, -9.6642)
  line L34 (4.1, -5.5142) -> (-4.1, -5.5142)
  line L35 (13.5, -10.75) -> (13.5, -12.5)
  line L36 (4.1, -14) -> (4.1, -13)
  line L37 (5.1, -14) -> (4.1, -14)
  line L38 (5.1, -15) -> (13, -15)
  line L39 (5.5142, 4.1) -> (5.5142, -4.1)
  line L40 (9.6642, -8.25) -> (5.5142, -4.1)
  line L41 (15, -5.1) -> (15, -13)
  line L42 (9.75, -12.5) -> (9.75, -10.75)
  arc A6 (12.5, -13.5) -> (13.5, -12.5) centre (12.5, -12.5) ccw
  arc A7 (12.5, -13.5) -> (13.5, -12.5) centre (12.5, -12.5) ccw
  line L43 (13, -8.25) -> (13, -4.1)
  line L44 (8.25, 10.6606) -> (8.25, 13)
  line L45 (8.25, 13) -> (8.25, 9.6642)
  line L46 (-5.5142, 4.1) -> (-5.5142, -4.1)
  line L47 (-9.5009, -9.5009) -> (-1.6152, -1.6153) construction
  line L48 (5.1, 15) -> (13, 15)
  line L49 (13, 15) -> (5.1, 15)
  arc A8 (13.5, 12.5) -> (12.5, 13.5) centre (12.5, 12.5) ccw
  line L50 (-15, -5.1) -> (-15, -13)
  line L51 (5.1, 14) -> (4.1, 14)
  arc A9 (-10.75, 9.75) -> (-9.75, 10.75) centre (-10.75, 10.75) ccw
  line L52 (-13, 4.1) -> (-14, 4.1)
  line L53 (-9.5009, 9.5009) -> (-1.6152, 1.6153) construction
  line L54 (-14, 4.1) -> (-14, 5.1)
  line L55 (-4.1, 14) -> (-4.1, 13)
  arc A10 (-12.5, 13.5) -> (-13.5, 12.5) centre (-12.5, 12.5) ccw
  line L56 (-15, 5.1) -> (-15, 13)
  arc A11 (-9.75, 12.5) -> (-10.75, 13.5) centre (-10.75, 12.5) ccw
  line L57 (-14, 5.1) -> (-15, 5.1)
  arc A12 (-12.5, 13.5) -> (-13.5, 12.5) centre (-12.5, 12.5) ccw
  line L58 (-13.5, 10.75) -> (-13.5, 12.5)
  line L59 (-8.25, -13) -> (-8.25, -9.6642)
  line L60 (-9.6642, -8.25) -> (-5.5142, -4.1)
  line L61 (-4.1, -13) -> (-8.25, -13)
  arc A13 (-13.5, -12.5) -> (-12.5, -13.5) centre (-12.5, -12.5) ccw
  line L62 (-15, -13) -> (-15, -5.1)
  line L63 (-14, -4.1) -> (-14, -5.1)
  line L64 (-13, -8.25) -> (-9.6642, -8.25)
  line L65 (-13, -8.25) -> (-13, -4.1)
  line L66 (-5.1, -14) -> (-4.1, -14)
  line L67 (-12.5, -9.75) -> (-10.75, -9.75)
  line L68 (-8.25, -10.6606) -> (-8.25, -13)
  arc A14 (-9.75, -10.75) -> (-10.75, -9.75) centre (-10.75, -10.75) ccw
  arc A15 (-13.5, -12.5) -> (-12.5, -13.5) centre (-12.5, -12.5) ccw
  arc A16 (-15, -13) -> (-13, -15) centre (-13, -13) ccw
  line L69 (-5.1, -15) -> (-13, -15)
  line L70 (9.6642, 8.25) -> (5.5142, 4.1)
  line L71 (13.5, 10.75) -> (13.5, 12.5)
  line L72 (14, 5.1) -> (15, 5.1)
  arc A17 (13.5, 12.5) -> (12.5, 13.5) centre (12.5, 12.5) ccw
  line L73 (13, 4.1) -> (14, 4.1)
  line L74 (4.1, 14) -> (4.1, 13)
  line L75 (12.5, 9.75) -> (10.75, 9.75)
  line L76 (10.75, 13.5) -> (12.5, 13.5)
  line L77 (13, 4.1) -> (14, 4.1)
  arc A18 (9.75, 10.75) -> (10.75, 9.75) centre (10.75, 10.75) ccw
  line L78 (5.1, 14) -> (5.1, 15)
  line L79 (15, 13) -> (15, 5.1)
  arc A19 (15, 13) -> (13, 15) centre (13, 13) ccw
  arc A20 (10.75, -9.75) -> (9.75, -10.75) centre (10.75, -10.75) ccw
  line L80 (8.25, -9.6642) -> (4.1, -5.5142)
  line L81 (14, 4.1) -> (14, 5.1)
  line L82 (13, 8.25) -> (9.6642, 8.25)
  line L83 (13, -8.25) -> (9.6642, -8.25)
  line L84 (9.5009, -9.5009) -> (1.6153, -1.6153) construction
  line L85 (10.75, 9.75) -> (12.5, 9.75)
  line L86 (8.25, 9.6642) -> (4.1, 5.5142)
  line L87 (15, 5.1) -> (15, 13)
  line L88 (13, 8.25) -> (13, 4.1)
  line L89 (12.5, 13.5) -> (10.75, 13.5)
  arc A21 (10.75, 13.5) -> (9.75, 12.5) centre (10.75, 12.5) ccw
  line L90 (10.75, -13.5) -> (12.5, -13.5)
  line L91 (4.1, 13) -> (8.25, 13)
  line L92 (9.75, 12.5) -> (9.75, 10.75)
  arc A22 (12.5, 9.75) -> (13.5, 10.75) centre (12.5, 10.75) ccw
  line L93 (-14, -5.1) -> (-15, -5.1)
  line L94 (-13, -15) -> (-5.1, -15)
  line L95 (-4.1, -14) -> (-4.1, -13)
  arc A23 (-12.5, -9.75) -> (-13.5, -10.75) centre (-12.5, -10.75) ccw
  line L96 (-10.75, -9.75) -> (-12.5, -9.75)
  line L97 (-12.5, -13.5) -> (-10.75, -13.5)
  line L98 (-8.25, -9.6642) -> (-4.1, -5.5142)
  line L99 (-13.5, -10.75) -> (-13.5, -12.5)
  arc A24 (-10.75, -13.5) -> (-9.75, -12.5) centre (-10.75, -12.5) ccw
  line L100 (-5.1, -14) -> (-5.1, -15)
  line L101 (-13, -4.1) -> (-14, -4.1)
  line L102 (-10.75, -13.5) -> (-12.5, -13.5)
  line L103 (-13, -4.1) -> (-14, -4.1)
  line L104 (-9.75, -12.5) -> (-9.75, -10.75)
  point P0 (-15, -15)
  point P1 (-14, -4.1)
  point P2 (-15, 0)
  point P3 (-5.1, -14)
  point P4 (-5.1, 14)
  point P5 (-12.5, -12.5)
  point P6 (-14, -5.1)
  point P7 (0, 0)
  point P8 (-15, -5.1)
  point P9 (-13, -8.25)
  point P10 (0, 0)
  point P11 (0, 15)
  point P12 (15, 15)
  point P13 (12.5, 12.5)
  point P14 (5.1, 15)
  point P15 (15, 0)
  point P16 (0, 0)
  point P17 (5.1, 14)
  point P18 (14, 4.1)
  point P19 (13, 8.25)
  point P20 (-12.5, 12.5)
  point P21 (8.25, 13)
  point P22 (-8.25, 13)
  point P23 (14, 5.1)
  point P24 (4.1, 14)
  point P25 (15, 5.1)
  point P26 (-15, 0)
  point P27 (-4.1, 13)
  point P28 (-5.1, 15)
  point P29 (4.1, 13)
  point P30 (-5.1, -15)
  point P31 (0, -15)
  point P32 (0, 0)
  point P33 (0, 15)
  point P34 (-4.1, 14)
  point P35 (-13, 8.25)
  point P36 (0, 0)
  point P37 (-4.1, -14)
  point P38 (0, 15)
  point P39 (-4.1, -13)
  point P40 (-14, 4.1)
  point P41 (-15, 5.1)
  point P42 (-14, 5.1)
  point P43 (0, 0)
  point P44 (-8.25, -13)
  point P45 (-15, 15)
  point P46 (5.1, -15)
  point P47 (15, -15)
  point P48 (4.1, -14)
  point P49 (15, -5.1)
  point P50 (13, -8.25)
  point P51 (4.1, -13)
  point P52 (14, -4.1)
  point P53 (5.1, -14)
  point P54 (8.25, -13)
  point P55 (14, -5.1)
  dimension "d1" = 2
  dimension "d2" = 1
  dimension "d3" = 1.5
  dimension "d4" = 1
  dimension "d5" = 1
  dimension "d6" = 1.5
  dimension "d7" = 1.5
  dimension "d8" = 1.5
  dimension "d9" = 8.2
  dimension "d10" = 8.2
  dimension "d11" = 6.8
extrude "Extrude1" add sketch "Sketch1" along normal blind 500
